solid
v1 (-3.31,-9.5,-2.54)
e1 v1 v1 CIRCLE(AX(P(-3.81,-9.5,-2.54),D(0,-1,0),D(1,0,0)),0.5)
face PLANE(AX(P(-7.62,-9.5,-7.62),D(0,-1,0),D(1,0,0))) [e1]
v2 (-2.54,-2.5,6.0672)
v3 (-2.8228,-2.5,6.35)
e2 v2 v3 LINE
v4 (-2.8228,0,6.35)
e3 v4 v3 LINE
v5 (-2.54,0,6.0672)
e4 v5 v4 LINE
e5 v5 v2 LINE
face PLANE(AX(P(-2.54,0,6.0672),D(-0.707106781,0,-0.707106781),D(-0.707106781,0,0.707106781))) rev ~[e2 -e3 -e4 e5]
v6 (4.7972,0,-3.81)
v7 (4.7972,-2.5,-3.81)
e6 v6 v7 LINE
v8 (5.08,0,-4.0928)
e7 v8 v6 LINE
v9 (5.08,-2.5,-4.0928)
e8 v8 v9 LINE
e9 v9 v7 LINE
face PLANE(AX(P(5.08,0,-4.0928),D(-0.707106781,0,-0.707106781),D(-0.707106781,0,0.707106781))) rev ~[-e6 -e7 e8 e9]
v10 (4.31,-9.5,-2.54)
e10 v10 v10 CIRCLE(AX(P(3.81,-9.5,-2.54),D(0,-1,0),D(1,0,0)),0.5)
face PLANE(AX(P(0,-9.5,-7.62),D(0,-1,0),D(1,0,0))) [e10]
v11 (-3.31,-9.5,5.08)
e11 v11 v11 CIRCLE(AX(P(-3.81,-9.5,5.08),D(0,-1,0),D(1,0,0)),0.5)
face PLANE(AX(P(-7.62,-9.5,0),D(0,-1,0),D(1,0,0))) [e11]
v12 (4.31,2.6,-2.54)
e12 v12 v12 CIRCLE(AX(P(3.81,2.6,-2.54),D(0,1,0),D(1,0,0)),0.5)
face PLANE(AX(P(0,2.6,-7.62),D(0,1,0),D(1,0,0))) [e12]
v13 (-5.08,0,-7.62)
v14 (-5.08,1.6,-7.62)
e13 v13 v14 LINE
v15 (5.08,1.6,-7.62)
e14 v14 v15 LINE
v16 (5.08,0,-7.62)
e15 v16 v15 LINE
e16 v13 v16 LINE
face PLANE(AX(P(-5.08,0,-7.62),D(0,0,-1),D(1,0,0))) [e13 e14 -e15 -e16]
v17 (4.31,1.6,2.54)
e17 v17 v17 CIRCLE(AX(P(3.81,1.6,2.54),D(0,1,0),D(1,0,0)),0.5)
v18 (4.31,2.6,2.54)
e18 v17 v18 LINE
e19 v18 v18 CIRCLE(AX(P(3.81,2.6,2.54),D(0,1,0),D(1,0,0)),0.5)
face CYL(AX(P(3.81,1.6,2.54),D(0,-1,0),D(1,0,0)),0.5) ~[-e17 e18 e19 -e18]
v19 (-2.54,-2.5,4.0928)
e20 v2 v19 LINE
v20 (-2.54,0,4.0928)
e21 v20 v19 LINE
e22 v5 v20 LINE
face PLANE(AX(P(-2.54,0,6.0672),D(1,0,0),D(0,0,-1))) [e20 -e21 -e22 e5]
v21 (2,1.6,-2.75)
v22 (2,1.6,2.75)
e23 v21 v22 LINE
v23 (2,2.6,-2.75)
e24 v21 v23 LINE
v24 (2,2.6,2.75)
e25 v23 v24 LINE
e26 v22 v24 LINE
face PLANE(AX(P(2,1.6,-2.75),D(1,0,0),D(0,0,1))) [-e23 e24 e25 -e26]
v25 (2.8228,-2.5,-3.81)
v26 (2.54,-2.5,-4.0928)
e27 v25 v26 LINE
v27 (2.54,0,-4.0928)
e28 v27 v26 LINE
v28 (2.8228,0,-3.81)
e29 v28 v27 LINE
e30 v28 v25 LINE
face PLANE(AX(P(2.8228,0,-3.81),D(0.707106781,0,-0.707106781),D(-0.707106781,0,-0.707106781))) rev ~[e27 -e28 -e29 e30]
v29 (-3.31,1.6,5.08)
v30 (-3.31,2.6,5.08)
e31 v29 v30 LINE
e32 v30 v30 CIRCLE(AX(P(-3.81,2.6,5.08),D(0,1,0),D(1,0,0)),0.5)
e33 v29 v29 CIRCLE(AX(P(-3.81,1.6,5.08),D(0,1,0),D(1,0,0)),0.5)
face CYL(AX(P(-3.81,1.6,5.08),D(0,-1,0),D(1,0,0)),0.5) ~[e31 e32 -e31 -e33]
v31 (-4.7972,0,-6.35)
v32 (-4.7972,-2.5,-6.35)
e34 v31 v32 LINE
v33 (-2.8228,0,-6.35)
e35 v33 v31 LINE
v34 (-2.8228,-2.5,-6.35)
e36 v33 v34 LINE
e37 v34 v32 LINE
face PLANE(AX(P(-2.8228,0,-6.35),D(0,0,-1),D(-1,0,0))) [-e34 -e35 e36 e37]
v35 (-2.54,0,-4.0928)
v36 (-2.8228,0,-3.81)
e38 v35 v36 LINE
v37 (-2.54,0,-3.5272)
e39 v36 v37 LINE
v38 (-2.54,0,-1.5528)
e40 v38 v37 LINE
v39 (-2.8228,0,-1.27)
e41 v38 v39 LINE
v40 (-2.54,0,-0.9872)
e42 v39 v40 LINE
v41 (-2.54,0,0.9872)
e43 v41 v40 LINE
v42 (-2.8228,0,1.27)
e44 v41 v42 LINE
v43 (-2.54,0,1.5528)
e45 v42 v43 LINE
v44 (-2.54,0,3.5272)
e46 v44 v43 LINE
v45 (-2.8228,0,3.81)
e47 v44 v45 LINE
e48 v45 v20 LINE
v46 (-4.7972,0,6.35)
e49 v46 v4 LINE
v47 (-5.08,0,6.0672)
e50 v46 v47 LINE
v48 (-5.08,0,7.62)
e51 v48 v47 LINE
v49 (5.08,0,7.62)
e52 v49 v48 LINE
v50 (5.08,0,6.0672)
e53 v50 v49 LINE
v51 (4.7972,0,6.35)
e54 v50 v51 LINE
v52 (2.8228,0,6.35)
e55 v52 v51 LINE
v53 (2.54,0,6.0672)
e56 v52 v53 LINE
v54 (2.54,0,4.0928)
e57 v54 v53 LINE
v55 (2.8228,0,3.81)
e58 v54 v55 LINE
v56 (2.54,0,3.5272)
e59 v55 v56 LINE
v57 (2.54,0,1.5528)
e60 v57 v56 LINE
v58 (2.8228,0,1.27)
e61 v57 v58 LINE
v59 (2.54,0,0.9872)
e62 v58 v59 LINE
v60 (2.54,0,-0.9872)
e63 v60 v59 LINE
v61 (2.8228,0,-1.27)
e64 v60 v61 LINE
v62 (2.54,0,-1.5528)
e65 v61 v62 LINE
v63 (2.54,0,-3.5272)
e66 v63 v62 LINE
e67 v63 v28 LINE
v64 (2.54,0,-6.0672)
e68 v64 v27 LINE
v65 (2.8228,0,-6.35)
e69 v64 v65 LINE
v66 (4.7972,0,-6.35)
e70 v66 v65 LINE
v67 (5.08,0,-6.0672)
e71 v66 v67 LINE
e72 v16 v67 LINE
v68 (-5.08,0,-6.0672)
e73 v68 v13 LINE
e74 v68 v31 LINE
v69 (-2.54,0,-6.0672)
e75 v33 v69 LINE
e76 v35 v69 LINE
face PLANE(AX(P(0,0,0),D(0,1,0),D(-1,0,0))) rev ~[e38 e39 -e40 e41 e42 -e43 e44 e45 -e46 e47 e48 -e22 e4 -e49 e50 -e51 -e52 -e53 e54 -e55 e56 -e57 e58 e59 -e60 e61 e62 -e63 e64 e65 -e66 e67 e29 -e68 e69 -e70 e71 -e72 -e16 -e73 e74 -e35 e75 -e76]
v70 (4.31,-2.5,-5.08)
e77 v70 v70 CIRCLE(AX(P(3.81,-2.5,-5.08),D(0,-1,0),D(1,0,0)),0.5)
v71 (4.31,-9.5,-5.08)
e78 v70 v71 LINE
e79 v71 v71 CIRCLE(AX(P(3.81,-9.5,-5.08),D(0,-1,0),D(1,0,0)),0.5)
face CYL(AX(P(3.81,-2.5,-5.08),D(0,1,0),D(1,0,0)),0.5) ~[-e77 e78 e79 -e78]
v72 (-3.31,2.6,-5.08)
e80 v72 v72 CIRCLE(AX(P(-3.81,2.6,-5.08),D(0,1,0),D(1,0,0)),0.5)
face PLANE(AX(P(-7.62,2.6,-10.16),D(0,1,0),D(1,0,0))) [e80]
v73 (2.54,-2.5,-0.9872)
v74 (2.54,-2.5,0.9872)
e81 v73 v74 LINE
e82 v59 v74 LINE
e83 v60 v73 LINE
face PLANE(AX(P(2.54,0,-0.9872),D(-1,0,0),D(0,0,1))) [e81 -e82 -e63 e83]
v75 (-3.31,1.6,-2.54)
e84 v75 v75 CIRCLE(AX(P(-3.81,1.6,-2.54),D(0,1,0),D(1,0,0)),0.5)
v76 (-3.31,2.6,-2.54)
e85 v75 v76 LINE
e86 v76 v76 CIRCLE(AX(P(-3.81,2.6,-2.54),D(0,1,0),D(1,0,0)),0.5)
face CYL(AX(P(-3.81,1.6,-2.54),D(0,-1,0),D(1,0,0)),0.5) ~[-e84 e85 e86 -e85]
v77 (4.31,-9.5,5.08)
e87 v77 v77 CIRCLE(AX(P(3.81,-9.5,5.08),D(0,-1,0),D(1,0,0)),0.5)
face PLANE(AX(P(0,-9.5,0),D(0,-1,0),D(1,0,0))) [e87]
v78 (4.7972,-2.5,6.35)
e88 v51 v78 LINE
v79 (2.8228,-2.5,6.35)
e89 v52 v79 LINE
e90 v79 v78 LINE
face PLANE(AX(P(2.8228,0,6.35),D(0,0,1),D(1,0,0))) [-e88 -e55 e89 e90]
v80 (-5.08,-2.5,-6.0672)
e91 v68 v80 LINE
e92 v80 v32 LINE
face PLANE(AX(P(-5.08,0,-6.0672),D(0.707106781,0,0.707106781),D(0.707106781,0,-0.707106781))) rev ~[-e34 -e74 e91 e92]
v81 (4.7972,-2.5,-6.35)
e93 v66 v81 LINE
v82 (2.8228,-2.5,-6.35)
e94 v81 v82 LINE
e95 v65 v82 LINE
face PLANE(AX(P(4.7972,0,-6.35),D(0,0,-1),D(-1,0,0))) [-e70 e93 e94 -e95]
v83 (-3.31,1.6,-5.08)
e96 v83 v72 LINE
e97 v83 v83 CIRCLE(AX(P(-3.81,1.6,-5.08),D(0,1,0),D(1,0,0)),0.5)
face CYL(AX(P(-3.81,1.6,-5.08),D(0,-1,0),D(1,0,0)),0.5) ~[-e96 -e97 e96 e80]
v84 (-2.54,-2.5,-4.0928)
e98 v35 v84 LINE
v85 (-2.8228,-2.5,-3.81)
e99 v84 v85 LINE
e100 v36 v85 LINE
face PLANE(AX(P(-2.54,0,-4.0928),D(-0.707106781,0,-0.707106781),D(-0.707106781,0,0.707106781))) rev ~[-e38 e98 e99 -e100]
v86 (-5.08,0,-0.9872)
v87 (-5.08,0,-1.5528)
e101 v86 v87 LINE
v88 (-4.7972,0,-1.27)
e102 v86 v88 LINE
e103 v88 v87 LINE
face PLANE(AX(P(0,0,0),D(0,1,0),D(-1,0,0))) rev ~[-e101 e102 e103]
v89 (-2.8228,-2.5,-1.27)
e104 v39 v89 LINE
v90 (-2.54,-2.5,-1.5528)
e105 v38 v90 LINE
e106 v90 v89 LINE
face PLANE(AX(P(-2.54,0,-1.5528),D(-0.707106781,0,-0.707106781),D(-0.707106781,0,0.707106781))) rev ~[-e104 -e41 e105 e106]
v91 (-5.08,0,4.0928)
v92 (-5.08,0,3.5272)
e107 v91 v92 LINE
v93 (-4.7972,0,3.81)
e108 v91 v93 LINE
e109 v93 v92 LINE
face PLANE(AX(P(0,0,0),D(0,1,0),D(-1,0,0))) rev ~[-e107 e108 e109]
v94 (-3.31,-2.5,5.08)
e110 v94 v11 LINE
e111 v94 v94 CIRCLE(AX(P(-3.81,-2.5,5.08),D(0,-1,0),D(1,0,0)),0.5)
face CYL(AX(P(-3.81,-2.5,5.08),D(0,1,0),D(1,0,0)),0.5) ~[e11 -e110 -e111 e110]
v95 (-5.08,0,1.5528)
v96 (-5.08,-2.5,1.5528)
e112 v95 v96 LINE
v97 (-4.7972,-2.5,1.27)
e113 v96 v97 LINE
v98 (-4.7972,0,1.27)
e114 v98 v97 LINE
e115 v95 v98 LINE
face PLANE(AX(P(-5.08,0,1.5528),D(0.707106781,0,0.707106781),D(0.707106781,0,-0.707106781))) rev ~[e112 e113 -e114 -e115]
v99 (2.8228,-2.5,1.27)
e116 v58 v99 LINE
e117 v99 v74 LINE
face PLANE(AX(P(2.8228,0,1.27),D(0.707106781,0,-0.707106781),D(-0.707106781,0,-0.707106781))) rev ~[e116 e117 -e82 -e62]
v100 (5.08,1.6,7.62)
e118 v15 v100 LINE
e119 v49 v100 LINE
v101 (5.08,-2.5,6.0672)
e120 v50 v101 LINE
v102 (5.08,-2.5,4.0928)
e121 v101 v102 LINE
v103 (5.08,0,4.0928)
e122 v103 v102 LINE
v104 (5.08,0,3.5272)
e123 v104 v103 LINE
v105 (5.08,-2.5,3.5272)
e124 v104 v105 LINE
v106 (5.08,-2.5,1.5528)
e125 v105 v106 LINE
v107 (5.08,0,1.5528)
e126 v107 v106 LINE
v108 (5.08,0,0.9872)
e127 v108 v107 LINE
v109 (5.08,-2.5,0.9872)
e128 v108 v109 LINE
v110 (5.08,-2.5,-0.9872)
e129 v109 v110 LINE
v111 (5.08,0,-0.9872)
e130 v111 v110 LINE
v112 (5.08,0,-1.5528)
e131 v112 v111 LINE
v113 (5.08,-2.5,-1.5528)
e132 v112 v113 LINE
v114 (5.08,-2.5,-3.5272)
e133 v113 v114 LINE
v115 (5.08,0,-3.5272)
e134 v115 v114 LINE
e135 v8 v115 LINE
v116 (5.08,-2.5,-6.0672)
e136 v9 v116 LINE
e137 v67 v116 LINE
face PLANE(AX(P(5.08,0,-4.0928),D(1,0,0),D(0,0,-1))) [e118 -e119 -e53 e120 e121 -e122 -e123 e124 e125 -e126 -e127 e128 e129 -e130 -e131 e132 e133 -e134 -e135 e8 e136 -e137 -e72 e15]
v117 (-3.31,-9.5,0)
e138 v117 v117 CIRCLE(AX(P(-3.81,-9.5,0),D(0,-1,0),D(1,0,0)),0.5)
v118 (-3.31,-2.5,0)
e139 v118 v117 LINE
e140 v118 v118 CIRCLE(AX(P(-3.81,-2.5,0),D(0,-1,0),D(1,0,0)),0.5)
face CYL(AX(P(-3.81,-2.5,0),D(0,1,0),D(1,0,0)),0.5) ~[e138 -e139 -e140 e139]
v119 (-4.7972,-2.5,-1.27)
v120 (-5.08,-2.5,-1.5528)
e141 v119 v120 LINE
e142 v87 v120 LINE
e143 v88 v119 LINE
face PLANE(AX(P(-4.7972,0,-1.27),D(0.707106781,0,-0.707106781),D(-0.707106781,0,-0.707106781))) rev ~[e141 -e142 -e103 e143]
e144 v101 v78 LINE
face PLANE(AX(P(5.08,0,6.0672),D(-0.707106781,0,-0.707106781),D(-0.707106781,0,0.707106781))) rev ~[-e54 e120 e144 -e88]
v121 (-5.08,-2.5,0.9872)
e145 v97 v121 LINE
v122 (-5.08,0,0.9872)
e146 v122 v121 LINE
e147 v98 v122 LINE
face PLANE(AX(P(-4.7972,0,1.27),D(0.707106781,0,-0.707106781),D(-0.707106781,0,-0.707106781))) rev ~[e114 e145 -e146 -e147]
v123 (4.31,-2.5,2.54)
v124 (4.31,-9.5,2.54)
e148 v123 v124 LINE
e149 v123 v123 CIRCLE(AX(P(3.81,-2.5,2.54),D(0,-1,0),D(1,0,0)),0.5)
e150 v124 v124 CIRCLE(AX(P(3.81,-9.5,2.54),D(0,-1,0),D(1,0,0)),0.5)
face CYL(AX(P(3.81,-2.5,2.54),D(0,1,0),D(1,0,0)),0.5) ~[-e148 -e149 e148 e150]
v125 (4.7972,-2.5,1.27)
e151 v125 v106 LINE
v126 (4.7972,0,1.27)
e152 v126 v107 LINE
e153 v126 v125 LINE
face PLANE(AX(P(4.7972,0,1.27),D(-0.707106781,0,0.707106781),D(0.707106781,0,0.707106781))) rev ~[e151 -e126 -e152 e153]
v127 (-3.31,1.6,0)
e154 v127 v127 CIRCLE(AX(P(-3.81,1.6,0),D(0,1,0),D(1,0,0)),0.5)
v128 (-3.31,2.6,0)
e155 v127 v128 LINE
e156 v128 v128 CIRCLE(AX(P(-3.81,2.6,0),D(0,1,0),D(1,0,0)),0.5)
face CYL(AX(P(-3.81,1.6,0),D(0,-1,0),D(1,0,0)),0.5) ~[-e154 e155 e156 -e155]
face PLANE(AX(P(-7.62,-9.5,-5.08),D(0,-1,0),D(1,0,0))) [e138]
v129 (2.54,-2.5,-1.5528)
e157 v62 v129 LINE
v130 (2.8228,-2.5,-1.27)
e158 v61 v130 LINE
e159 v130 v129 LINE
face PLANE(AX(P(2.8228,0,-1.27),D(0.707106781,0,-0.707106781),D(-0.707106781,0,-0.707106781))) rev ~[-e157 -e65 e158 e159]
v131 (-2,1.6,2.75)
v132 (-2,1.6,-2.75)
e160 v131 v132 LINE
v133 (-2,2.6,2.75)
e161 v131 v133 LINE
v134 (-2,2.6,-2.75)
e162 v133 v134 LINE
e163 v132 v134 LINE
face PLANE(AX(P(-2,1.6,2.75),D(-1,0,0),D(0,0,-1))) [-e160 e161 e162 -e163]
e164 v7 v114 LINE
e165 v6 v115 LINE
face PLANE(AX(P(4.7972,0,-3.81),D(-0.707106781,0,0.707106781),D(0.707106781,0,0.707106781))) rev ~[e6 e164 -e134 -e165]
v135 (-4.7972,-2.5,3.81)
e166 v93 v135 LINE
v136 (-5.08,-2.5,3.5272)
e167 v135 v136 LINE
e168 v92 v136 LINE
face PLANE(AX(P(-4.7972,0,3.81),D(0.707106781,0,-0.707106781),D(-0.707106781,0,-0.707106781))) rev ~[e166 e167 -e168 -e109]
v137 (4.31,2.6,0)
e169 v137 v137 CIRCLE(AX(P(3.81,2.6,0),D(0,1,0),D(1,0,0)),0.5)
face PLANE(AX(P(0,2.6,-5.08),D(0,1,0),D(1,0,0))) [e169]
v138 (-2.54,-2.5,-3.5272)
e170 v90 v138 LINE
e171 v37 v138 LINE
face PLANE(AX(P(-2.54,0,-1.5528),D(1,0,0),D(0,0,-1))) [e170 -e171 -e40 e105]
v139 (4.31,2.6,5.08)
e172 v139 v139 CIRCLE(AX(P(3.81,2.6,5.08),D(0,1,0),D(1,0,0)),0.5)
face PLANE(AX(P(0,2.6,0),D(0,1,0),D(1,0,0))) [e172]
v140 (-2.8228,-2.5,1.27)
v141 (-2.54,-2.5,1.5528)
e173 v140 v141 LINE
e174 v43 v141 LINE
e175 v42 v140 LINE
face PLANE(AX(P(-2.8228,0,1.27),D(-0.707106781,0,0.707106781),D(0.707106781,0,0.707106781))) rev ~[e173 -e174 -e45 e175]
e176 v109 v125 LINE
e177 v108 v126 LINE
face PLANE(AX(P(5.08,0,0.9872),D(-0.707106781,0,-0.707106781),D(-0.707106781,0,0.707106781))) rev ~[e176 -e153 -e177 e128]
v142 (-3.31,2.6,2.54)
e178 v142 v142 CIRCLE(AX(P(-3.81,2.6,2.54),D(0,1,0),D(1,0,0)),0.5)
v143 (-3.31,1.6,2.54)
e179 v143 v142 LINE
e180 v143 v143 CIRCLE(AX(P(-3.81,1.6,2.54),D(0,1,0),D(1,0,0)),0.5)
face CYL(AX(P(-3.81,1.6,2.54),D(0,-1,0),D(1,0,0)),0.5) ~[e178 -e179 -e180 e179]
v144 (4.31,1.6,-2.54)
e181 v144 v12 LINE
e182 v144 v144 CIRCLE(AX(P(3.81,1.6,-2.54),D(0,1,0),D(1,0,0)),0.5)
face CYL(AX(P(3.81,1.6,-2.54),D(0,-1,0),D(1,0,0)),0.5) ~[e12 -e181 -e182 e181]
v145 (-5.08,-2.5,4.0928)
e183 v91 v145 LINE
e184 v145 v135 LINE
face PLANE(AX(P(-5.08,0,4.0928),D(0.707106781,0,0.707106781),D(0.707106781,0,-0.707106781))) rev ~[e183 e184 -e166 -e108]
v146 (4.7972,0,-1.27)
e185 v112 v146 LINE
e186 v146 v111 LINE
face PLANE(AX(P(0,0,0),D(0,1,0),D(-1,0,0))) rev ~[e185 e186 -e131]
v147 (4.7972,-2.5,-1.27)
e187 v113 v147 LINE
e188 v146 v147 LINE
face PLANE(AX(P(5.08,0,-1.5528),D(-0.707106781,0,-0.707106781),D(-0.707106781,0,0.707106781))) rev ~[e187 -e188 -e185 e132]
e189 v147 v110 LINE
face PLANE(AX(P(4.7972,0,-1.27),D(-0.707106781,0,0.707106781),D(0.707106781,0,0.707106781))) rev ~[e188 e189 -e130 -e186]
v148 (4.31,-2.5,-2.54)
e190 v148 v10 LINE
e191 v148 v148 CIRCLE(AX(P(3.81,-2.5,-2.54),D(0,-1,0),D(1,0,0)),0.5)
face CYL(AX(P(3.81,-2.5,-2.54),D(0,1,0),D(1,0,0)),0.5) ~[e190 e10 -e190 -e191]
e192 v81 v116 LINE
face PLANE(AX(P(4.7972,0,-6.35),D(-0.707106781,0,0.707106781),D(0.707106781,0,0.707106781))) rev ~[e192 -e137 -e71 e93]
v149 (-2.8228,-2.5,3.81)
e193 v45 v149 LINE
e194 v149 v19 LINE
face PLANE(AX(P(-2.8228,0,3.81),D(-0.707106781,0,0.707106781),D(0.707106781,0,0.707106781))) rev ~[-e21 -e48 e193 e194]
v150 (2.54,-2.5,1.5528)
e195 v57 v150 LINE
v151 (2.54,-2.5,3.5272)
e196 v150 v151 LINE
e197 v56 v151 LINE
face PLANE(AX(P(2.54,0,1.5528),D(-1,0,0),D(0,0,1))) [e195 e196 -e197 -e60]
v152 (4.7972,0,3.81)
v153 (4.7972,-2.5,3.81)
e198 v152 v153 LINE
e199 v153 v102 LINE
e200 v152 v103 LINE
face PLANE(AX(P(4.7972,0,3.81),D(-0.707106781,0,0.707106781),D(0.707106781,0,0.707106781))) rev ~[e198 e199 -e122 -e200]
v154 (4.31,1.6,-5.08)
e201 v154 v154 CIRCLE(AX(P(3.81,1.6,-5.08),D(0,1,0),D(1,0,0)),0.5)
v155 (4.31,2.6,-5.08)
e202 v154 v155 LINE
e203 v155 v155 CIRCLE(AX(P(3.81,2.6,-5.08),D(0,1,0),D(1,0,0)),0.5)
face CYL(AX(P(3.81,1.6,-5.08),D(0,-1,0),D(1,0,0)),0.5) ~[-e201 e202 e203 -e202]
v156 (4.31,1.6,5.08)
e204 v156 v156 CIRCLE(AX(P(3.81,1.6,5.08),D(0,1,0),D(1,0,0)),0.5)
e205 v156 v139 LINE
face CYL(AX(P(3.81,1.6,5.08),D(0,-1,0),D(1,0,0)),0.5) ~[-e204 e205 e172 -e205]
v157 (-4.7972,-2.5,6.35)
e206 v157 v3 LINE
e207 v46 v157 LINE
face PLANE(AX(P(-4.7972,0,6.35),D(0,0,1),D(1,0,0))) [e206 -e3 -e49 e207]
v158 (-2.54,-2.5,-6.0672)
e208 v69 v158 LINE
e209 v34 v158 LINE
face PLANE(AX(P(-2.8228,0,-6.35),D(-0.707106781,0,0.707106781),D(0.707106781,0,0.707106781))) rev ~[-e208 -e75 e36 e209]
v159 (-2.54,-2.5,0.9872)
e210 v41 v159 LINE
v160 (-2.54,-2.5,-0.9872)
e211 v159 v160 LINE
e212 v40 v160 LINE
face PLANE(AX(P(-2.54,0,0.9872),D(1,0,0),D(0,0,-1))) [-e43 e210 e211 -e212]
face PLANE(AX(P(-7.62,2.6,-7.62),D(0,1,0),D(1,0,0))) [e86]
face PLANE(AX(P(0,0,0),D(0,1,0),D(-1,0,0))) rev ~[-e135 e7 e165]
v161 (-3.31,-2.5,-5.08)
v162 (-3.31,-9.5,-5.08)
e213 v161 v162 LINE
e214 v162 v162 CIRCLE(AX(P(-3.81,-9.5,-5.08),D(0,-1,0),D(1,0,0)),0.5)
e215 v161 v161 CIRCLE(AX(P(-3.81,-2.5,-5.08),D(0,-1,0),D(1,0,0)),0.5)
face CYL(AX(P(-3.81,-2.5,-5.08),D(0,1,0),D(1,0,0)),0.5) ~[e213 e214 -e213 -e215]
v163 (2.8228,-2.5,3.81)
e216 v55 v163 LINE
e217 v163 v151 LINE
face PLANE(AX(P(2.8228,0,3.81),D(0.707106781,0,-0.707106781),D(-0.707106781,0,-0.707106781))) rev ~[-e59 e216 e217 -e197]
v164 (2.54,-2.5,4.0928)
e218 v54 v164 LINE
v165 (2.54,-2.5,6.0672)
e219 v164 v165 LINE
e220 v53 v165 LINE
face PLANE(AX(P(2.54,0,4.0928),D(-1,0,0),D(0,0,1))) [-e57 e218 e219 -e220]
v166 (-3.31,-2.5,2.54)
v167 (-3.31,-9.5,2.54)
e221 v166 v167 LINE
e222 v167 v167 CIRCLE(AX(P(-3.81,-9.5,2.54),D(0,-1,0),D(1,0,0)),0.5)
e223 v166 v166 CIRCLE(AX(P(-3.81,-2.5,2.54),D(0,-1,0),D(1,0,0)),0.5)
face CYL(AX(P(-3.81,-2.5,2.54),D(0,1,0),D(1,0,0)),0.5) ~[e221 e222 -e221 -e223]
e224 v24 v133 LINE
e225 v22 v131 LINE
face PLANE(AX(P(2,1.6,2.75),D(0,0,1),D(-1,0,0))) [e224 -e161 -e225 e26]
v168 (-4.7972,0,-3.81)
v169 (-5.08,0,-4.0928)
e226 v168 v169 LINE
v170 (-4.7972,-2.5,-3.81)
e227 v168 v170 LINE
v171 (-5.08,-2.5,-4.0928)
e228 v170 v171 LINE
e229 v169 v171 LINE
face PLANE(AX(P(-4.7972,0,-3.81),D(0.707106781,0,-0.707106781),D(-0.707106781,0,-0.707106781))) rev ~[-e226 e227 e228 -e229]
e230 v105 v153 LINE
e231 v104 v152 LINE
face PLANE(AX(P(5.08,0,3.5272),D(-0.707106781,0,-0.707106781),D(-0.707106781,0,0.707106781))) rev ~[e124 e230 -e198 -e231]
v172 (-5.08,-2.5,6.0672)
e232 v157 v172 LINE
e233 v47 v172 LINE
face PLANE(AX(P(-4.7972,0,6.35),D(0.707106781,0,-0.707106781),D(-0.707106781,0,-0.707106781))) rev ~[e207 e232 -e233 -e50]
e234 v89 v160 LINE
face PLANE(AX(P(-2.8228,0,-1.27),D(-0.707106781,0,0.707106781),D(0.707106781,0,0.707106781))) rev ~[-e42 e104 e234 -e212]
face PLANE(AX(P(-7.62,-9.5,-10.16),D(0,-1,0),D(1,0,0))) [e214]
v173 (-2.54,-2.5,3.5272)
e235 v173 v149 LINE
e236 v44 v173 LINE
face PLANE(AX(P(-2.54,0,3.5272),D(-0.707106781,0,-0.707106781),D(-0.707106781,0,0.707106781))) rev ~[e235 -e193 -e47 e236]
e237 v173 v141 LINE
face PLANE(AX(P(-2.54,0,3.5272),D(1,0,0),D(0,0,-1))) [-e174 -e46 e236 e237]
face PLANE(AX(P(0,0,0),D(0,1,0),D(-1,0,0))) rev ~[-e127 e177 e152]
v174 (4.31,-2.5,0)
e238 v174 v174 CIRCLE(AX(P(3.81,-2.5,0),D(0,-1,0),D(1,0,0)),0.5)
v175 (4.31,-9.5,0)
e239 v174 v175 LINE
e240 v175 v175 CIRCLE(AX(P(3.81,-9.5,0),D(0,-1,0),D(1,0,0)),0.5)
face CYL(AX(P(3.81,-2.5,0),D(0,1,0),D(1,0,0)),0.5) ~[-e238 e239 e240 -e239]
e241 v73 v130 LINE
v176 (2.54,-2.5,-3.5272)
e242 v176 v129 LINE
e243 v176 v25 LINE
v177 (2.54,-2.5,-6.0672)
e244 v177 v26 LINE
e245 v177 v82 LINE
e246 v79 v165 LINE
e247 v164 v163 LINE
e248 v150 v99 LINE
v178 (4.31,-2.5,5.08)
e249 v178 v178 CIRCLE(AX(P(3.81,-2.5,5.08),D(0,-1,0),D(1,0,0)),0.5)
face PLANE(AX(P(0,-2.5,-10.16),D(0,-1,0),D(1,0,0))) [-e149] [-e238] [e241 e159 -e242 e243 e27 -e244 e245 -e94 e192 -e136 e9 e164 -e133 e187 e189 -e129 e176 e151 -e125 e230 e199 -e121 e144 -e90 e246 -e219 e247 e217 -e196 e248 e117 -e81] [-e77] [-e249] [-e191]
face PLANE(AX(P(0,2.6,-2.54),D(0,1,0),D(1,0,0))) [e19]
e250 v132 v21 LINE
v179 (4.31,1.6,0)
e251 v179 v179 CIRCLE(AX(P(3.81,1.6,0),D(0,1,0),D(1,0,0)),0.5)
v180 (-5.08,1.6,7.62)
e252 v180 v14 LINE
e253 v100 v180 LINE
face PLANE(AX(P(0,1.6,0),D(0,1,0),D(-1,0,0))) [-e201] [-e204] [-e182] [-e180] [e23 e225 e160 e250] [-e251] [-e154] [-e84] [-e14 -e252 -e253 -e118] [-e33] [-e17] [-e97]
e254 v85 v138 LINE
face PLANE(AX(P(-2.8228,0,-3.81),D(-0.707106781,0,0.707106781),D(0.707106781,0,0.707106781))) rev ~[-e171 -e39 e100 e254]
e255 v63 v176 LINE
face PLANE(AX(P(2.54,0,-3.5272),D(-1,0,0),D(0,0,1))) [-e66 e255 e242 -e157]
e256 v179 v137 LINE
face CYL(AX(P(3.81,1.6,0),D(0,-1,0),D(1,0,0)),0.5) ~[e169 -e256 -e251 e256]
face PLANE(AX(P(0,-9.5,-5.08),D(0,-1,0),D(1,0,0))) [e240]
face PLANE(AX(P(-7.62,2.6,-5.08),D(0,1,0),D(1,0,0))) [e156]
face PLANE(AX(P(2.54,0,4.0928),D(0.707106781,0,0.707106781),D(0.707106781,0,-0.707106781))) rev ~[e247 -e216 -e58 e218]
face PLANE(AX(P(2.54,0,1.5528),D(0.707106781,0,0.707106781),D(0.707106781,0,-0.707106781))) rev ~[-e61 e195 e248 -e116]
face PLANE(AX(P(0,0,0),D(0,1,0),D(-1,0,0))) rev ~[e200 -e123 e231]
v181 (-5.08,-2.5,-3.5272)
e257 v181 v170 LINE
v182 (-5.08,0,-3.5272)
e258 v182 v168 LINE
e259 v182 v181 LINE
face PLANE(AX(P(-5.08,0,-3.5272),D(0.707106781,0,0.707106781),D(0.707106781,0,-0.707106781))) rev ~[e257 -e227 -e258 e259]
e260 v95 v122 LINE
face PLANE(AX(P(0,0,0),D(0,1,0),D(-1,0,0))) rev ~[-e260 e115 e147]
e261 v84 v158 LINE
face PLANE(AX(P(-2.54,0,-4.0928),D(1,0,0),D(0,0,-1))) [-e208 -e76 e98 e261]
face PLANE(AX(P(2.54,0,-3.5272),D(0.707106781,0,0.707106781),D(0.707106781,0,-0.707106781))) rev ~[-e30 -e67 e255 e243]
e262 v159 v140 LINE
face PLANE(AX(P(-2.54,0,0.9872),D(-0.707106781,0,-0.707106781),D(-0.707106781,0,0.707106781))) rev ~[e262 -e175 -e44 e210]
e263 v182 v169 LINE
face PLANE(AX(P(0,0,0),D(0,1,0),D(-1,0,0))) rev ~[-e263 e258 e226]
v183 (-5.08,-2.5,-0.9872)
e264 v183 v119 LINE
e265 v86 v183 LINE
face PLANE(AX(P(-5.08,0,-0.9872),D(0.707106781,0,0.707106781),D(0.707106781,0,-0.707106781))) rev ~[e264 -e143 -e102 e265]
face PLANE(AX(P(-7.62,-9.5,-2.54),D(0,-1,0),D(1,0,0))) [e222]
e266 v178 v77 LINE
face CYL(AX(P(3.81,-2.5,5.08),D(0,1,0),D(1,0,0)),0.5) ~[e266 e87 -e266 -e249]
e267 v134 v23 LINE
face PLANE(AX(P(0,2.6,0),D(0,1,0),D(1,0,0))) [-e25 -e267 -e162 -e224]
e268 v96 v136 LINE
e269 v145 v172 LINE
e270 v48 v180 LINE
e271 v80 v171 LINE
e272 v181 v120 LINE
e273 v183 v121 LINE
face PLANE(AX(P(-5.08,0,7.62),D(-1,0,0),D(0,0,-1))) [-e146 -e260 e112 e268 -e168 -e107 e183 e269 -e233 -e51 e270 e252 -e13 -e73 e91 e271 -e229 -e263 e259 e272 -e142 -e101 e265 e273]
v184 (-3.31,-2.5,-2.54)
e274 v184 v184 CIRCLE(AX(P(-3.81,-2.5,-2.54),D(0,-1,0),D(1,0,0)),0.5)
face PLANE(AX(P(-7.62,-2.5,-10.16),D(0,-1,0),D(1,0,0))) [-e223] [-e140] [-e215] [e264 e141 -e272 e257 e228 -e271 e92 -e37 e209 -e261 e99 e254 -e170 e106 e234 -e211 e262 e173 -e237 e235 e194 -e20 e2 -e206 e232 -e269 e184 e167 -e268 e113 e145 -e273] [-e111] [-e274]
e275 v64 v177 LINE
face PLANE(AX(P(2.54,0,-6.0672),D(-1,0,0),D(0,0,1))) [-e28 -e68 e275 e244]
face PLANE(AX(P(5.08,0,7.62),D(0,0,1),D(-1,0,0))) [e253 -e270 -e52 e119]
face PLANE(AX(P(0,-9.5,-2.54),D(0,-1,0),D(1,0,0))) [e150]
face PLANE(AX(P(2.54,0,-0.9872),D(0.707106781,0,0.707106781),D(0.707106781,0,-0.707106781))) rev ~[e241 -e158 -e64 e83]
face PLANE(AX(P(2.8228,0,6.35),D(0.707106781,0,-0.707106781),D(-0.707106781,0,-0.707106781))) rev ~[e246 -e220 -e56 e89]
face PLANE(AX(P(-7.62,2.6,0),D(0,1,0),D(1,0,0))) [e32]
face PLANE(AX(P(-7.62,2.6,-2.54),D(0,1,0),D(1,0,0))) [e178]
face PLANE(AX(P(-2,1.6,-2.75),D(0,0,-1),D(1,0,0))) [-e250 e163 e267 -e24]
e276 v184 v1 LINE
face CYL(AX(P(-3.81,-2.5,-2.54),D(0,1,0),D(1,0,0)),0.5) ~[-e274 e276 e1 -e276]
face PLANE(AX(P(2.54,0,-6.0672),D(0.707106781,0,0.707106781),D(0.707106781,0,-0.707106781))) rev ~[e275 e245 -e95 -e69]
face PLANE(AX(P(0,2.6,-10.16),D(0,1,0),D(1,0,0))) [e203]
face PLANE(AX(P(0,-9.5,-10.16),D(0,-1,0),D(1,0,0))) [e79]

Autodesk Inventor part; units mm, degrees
ref_plane "YZ Plane" through (0, 0, 0) normal (1, 0, 0) x (0, 1, 0)
ref_plane "XZ Plane" through (0, 0, 0) normal (0, 1, 0) x (-1, 0, 0)
ref_plane "XY Plane" through (0, 0, 0) normal (0, 0, 1) x (1, 0, 0)
sketch "スケッチ1" plane through (0, 0, 0) normal (0, 1, 0) x (-1, 0, 0)
  line L0 (-5.08, 7.62) -> (5.08, 7.62)
  line L1 (5.08, 7.62) -> (5.08, -7.62)
  line L2 (5.08, -7.62) -> (-5.08, -7.62)
  line L3 (-5.08, -7.62) -> (-5.08, 7.62)
  line L4 (-5.08, 7.62) -> (5.08, -7.62) construction
  line L5 (5.08, 7.62) -> (-5.08, -7.62) construction
  point P0 (0, 0)
  dimension "d0" = 10.16
  dimension "d1" = 15.24
extrude "押し出し1" add sketch "スケッチ1" along normal blind 1.6
sketch "スケッチ2" plane through (0, 1.6, 0) normal (0, 1, 0) x (1, 0, 0)
  line L0 (2, -2.75) -> (-2, -2.75)
  line L1 (-2, -2.75) -> (-2, 2.75)
  line L2 (-2, 2.75) -> (2, 2.75)
  line L3 (2, 2.75) -> (2, -2.75)
  line L4 (2, -2.75) -> (-2, 2.75) construction
  line L5 (-2, -2.75) -> (2, 2.75) construction
  point P0 (0, 0)
  dimension "d4" = 4
  dimension "d5" = 5.5
extrude "押し出し2" add sketch "スケッチ2" along normal blind 1
sketch "スケッチ3" plane through (0, 0, 0) normal (0, -1, 0) x (1, 0, 0)
  line L0 (2.54, 6.35) -> (5.08, 6.35)
  line L1 (5.08, 6.35) -> (5.08, 3.81)
  line L2 (5.08, 3.81) -> (2.54, 3.81)
  line L3 (2.54, 3.81) -> (2.54, 6.35)
  line L4 (2.54, 6.35) -> (5.08, 3.81) construction
  line L5 (5.08, 6.35) -> (2.54, 3.81) construction
  line L6 (1.5528, 5.08) -> (3.81, 2.8228)
  line L7 (3.81, 2.8228) -> (6.0672, 5.08)
  line L8 (6.0672, 5.08) -> (3.81, 7.3372)
  line L9 (3.81, 7.3372) -> (1.5528, 5.08)
  line L10 (1.5528, 5.08) -> (6.0672, 5.08) construction
  line L11 (3.81, 2.8228) -> (3.81, 7.3372) construction
  point P0 (0, 0)
  point P1 (3.81, 5.08)
  point P2 (3.81, 5.08)
  point P3 (3.81, 5.08)
  point P4 (2.8228, 6.35)
  point P5 (2.54, 6.0672)
  point P6 (2.54, 4.0928)
  point P7 (2.8228, 3.81)
  point P8 (4.7972, 3.81)
  point P9 (5.08, 4.0928)
  point P10 (5.08, 6.0672)
  point P11 (4.7972, 6.35)
  dimension "d8" = 2.54
  dimension "d9" = 2.54
  dimension "d10" = 5.08
  dimension "d11" = 3.81
  dimension "d31" = 0.2
extrude "押し出し3" add sketch "スケッチ3" along normal blind 2.5 contours L0 L8 L1 L7 L2 L6 L3 L9
sketch "スケッチ4" plane through (0, -2.5, 0) normal (0, -1, 0) x (1, 0, 0)
  line L0 (4.7972, 6.35) -> (2.8228, 6.35) projected
  line L1 (5.08, 4.0928) -> (5.08, 6.0672) projected
  circle A0 centre (3.81, 5.08) radius 0.5
  point P0 (0, 0)
  point P1 (4.88, 6.35)
  point P2 (2.74, 6.35)
  point P3 (5.08, 4.01)
  point P4 (5.08, 6.15)
  point P5 (5.08, 5.08)
  point P6 (3.81, 6.35)
  point P7 (5.08, 6.35)
  point P8 (2.54, 6.35)
  point P9 (5.08, 3.81)
  dimension "d17" = 1
extrude "押し出し4" add sketch "スケッチ4" along normal blind 7
sketch "スケッチ5" plane through (0, 1.6, 0) normal (0, 1, 0) x (1, 0, 0)
  circle A0 centre (3.81, -5.08) radius 0.5 projected
  circle A1 centre (3.81, -5.08) radius 0.5 projected
  point P0 (0, 0)
extrude "押し出し5" add sketch "スケッチ5" along normal blind 1
pattern_linear "矩形状パターン2" count 5 spacing 2.54 along (0, 0, -1) count 2 spacing 7.62 along (-1, 0, 0) of "押し出し3", "押し出し4", "押し出し5"
properties part number "bno055_module"
